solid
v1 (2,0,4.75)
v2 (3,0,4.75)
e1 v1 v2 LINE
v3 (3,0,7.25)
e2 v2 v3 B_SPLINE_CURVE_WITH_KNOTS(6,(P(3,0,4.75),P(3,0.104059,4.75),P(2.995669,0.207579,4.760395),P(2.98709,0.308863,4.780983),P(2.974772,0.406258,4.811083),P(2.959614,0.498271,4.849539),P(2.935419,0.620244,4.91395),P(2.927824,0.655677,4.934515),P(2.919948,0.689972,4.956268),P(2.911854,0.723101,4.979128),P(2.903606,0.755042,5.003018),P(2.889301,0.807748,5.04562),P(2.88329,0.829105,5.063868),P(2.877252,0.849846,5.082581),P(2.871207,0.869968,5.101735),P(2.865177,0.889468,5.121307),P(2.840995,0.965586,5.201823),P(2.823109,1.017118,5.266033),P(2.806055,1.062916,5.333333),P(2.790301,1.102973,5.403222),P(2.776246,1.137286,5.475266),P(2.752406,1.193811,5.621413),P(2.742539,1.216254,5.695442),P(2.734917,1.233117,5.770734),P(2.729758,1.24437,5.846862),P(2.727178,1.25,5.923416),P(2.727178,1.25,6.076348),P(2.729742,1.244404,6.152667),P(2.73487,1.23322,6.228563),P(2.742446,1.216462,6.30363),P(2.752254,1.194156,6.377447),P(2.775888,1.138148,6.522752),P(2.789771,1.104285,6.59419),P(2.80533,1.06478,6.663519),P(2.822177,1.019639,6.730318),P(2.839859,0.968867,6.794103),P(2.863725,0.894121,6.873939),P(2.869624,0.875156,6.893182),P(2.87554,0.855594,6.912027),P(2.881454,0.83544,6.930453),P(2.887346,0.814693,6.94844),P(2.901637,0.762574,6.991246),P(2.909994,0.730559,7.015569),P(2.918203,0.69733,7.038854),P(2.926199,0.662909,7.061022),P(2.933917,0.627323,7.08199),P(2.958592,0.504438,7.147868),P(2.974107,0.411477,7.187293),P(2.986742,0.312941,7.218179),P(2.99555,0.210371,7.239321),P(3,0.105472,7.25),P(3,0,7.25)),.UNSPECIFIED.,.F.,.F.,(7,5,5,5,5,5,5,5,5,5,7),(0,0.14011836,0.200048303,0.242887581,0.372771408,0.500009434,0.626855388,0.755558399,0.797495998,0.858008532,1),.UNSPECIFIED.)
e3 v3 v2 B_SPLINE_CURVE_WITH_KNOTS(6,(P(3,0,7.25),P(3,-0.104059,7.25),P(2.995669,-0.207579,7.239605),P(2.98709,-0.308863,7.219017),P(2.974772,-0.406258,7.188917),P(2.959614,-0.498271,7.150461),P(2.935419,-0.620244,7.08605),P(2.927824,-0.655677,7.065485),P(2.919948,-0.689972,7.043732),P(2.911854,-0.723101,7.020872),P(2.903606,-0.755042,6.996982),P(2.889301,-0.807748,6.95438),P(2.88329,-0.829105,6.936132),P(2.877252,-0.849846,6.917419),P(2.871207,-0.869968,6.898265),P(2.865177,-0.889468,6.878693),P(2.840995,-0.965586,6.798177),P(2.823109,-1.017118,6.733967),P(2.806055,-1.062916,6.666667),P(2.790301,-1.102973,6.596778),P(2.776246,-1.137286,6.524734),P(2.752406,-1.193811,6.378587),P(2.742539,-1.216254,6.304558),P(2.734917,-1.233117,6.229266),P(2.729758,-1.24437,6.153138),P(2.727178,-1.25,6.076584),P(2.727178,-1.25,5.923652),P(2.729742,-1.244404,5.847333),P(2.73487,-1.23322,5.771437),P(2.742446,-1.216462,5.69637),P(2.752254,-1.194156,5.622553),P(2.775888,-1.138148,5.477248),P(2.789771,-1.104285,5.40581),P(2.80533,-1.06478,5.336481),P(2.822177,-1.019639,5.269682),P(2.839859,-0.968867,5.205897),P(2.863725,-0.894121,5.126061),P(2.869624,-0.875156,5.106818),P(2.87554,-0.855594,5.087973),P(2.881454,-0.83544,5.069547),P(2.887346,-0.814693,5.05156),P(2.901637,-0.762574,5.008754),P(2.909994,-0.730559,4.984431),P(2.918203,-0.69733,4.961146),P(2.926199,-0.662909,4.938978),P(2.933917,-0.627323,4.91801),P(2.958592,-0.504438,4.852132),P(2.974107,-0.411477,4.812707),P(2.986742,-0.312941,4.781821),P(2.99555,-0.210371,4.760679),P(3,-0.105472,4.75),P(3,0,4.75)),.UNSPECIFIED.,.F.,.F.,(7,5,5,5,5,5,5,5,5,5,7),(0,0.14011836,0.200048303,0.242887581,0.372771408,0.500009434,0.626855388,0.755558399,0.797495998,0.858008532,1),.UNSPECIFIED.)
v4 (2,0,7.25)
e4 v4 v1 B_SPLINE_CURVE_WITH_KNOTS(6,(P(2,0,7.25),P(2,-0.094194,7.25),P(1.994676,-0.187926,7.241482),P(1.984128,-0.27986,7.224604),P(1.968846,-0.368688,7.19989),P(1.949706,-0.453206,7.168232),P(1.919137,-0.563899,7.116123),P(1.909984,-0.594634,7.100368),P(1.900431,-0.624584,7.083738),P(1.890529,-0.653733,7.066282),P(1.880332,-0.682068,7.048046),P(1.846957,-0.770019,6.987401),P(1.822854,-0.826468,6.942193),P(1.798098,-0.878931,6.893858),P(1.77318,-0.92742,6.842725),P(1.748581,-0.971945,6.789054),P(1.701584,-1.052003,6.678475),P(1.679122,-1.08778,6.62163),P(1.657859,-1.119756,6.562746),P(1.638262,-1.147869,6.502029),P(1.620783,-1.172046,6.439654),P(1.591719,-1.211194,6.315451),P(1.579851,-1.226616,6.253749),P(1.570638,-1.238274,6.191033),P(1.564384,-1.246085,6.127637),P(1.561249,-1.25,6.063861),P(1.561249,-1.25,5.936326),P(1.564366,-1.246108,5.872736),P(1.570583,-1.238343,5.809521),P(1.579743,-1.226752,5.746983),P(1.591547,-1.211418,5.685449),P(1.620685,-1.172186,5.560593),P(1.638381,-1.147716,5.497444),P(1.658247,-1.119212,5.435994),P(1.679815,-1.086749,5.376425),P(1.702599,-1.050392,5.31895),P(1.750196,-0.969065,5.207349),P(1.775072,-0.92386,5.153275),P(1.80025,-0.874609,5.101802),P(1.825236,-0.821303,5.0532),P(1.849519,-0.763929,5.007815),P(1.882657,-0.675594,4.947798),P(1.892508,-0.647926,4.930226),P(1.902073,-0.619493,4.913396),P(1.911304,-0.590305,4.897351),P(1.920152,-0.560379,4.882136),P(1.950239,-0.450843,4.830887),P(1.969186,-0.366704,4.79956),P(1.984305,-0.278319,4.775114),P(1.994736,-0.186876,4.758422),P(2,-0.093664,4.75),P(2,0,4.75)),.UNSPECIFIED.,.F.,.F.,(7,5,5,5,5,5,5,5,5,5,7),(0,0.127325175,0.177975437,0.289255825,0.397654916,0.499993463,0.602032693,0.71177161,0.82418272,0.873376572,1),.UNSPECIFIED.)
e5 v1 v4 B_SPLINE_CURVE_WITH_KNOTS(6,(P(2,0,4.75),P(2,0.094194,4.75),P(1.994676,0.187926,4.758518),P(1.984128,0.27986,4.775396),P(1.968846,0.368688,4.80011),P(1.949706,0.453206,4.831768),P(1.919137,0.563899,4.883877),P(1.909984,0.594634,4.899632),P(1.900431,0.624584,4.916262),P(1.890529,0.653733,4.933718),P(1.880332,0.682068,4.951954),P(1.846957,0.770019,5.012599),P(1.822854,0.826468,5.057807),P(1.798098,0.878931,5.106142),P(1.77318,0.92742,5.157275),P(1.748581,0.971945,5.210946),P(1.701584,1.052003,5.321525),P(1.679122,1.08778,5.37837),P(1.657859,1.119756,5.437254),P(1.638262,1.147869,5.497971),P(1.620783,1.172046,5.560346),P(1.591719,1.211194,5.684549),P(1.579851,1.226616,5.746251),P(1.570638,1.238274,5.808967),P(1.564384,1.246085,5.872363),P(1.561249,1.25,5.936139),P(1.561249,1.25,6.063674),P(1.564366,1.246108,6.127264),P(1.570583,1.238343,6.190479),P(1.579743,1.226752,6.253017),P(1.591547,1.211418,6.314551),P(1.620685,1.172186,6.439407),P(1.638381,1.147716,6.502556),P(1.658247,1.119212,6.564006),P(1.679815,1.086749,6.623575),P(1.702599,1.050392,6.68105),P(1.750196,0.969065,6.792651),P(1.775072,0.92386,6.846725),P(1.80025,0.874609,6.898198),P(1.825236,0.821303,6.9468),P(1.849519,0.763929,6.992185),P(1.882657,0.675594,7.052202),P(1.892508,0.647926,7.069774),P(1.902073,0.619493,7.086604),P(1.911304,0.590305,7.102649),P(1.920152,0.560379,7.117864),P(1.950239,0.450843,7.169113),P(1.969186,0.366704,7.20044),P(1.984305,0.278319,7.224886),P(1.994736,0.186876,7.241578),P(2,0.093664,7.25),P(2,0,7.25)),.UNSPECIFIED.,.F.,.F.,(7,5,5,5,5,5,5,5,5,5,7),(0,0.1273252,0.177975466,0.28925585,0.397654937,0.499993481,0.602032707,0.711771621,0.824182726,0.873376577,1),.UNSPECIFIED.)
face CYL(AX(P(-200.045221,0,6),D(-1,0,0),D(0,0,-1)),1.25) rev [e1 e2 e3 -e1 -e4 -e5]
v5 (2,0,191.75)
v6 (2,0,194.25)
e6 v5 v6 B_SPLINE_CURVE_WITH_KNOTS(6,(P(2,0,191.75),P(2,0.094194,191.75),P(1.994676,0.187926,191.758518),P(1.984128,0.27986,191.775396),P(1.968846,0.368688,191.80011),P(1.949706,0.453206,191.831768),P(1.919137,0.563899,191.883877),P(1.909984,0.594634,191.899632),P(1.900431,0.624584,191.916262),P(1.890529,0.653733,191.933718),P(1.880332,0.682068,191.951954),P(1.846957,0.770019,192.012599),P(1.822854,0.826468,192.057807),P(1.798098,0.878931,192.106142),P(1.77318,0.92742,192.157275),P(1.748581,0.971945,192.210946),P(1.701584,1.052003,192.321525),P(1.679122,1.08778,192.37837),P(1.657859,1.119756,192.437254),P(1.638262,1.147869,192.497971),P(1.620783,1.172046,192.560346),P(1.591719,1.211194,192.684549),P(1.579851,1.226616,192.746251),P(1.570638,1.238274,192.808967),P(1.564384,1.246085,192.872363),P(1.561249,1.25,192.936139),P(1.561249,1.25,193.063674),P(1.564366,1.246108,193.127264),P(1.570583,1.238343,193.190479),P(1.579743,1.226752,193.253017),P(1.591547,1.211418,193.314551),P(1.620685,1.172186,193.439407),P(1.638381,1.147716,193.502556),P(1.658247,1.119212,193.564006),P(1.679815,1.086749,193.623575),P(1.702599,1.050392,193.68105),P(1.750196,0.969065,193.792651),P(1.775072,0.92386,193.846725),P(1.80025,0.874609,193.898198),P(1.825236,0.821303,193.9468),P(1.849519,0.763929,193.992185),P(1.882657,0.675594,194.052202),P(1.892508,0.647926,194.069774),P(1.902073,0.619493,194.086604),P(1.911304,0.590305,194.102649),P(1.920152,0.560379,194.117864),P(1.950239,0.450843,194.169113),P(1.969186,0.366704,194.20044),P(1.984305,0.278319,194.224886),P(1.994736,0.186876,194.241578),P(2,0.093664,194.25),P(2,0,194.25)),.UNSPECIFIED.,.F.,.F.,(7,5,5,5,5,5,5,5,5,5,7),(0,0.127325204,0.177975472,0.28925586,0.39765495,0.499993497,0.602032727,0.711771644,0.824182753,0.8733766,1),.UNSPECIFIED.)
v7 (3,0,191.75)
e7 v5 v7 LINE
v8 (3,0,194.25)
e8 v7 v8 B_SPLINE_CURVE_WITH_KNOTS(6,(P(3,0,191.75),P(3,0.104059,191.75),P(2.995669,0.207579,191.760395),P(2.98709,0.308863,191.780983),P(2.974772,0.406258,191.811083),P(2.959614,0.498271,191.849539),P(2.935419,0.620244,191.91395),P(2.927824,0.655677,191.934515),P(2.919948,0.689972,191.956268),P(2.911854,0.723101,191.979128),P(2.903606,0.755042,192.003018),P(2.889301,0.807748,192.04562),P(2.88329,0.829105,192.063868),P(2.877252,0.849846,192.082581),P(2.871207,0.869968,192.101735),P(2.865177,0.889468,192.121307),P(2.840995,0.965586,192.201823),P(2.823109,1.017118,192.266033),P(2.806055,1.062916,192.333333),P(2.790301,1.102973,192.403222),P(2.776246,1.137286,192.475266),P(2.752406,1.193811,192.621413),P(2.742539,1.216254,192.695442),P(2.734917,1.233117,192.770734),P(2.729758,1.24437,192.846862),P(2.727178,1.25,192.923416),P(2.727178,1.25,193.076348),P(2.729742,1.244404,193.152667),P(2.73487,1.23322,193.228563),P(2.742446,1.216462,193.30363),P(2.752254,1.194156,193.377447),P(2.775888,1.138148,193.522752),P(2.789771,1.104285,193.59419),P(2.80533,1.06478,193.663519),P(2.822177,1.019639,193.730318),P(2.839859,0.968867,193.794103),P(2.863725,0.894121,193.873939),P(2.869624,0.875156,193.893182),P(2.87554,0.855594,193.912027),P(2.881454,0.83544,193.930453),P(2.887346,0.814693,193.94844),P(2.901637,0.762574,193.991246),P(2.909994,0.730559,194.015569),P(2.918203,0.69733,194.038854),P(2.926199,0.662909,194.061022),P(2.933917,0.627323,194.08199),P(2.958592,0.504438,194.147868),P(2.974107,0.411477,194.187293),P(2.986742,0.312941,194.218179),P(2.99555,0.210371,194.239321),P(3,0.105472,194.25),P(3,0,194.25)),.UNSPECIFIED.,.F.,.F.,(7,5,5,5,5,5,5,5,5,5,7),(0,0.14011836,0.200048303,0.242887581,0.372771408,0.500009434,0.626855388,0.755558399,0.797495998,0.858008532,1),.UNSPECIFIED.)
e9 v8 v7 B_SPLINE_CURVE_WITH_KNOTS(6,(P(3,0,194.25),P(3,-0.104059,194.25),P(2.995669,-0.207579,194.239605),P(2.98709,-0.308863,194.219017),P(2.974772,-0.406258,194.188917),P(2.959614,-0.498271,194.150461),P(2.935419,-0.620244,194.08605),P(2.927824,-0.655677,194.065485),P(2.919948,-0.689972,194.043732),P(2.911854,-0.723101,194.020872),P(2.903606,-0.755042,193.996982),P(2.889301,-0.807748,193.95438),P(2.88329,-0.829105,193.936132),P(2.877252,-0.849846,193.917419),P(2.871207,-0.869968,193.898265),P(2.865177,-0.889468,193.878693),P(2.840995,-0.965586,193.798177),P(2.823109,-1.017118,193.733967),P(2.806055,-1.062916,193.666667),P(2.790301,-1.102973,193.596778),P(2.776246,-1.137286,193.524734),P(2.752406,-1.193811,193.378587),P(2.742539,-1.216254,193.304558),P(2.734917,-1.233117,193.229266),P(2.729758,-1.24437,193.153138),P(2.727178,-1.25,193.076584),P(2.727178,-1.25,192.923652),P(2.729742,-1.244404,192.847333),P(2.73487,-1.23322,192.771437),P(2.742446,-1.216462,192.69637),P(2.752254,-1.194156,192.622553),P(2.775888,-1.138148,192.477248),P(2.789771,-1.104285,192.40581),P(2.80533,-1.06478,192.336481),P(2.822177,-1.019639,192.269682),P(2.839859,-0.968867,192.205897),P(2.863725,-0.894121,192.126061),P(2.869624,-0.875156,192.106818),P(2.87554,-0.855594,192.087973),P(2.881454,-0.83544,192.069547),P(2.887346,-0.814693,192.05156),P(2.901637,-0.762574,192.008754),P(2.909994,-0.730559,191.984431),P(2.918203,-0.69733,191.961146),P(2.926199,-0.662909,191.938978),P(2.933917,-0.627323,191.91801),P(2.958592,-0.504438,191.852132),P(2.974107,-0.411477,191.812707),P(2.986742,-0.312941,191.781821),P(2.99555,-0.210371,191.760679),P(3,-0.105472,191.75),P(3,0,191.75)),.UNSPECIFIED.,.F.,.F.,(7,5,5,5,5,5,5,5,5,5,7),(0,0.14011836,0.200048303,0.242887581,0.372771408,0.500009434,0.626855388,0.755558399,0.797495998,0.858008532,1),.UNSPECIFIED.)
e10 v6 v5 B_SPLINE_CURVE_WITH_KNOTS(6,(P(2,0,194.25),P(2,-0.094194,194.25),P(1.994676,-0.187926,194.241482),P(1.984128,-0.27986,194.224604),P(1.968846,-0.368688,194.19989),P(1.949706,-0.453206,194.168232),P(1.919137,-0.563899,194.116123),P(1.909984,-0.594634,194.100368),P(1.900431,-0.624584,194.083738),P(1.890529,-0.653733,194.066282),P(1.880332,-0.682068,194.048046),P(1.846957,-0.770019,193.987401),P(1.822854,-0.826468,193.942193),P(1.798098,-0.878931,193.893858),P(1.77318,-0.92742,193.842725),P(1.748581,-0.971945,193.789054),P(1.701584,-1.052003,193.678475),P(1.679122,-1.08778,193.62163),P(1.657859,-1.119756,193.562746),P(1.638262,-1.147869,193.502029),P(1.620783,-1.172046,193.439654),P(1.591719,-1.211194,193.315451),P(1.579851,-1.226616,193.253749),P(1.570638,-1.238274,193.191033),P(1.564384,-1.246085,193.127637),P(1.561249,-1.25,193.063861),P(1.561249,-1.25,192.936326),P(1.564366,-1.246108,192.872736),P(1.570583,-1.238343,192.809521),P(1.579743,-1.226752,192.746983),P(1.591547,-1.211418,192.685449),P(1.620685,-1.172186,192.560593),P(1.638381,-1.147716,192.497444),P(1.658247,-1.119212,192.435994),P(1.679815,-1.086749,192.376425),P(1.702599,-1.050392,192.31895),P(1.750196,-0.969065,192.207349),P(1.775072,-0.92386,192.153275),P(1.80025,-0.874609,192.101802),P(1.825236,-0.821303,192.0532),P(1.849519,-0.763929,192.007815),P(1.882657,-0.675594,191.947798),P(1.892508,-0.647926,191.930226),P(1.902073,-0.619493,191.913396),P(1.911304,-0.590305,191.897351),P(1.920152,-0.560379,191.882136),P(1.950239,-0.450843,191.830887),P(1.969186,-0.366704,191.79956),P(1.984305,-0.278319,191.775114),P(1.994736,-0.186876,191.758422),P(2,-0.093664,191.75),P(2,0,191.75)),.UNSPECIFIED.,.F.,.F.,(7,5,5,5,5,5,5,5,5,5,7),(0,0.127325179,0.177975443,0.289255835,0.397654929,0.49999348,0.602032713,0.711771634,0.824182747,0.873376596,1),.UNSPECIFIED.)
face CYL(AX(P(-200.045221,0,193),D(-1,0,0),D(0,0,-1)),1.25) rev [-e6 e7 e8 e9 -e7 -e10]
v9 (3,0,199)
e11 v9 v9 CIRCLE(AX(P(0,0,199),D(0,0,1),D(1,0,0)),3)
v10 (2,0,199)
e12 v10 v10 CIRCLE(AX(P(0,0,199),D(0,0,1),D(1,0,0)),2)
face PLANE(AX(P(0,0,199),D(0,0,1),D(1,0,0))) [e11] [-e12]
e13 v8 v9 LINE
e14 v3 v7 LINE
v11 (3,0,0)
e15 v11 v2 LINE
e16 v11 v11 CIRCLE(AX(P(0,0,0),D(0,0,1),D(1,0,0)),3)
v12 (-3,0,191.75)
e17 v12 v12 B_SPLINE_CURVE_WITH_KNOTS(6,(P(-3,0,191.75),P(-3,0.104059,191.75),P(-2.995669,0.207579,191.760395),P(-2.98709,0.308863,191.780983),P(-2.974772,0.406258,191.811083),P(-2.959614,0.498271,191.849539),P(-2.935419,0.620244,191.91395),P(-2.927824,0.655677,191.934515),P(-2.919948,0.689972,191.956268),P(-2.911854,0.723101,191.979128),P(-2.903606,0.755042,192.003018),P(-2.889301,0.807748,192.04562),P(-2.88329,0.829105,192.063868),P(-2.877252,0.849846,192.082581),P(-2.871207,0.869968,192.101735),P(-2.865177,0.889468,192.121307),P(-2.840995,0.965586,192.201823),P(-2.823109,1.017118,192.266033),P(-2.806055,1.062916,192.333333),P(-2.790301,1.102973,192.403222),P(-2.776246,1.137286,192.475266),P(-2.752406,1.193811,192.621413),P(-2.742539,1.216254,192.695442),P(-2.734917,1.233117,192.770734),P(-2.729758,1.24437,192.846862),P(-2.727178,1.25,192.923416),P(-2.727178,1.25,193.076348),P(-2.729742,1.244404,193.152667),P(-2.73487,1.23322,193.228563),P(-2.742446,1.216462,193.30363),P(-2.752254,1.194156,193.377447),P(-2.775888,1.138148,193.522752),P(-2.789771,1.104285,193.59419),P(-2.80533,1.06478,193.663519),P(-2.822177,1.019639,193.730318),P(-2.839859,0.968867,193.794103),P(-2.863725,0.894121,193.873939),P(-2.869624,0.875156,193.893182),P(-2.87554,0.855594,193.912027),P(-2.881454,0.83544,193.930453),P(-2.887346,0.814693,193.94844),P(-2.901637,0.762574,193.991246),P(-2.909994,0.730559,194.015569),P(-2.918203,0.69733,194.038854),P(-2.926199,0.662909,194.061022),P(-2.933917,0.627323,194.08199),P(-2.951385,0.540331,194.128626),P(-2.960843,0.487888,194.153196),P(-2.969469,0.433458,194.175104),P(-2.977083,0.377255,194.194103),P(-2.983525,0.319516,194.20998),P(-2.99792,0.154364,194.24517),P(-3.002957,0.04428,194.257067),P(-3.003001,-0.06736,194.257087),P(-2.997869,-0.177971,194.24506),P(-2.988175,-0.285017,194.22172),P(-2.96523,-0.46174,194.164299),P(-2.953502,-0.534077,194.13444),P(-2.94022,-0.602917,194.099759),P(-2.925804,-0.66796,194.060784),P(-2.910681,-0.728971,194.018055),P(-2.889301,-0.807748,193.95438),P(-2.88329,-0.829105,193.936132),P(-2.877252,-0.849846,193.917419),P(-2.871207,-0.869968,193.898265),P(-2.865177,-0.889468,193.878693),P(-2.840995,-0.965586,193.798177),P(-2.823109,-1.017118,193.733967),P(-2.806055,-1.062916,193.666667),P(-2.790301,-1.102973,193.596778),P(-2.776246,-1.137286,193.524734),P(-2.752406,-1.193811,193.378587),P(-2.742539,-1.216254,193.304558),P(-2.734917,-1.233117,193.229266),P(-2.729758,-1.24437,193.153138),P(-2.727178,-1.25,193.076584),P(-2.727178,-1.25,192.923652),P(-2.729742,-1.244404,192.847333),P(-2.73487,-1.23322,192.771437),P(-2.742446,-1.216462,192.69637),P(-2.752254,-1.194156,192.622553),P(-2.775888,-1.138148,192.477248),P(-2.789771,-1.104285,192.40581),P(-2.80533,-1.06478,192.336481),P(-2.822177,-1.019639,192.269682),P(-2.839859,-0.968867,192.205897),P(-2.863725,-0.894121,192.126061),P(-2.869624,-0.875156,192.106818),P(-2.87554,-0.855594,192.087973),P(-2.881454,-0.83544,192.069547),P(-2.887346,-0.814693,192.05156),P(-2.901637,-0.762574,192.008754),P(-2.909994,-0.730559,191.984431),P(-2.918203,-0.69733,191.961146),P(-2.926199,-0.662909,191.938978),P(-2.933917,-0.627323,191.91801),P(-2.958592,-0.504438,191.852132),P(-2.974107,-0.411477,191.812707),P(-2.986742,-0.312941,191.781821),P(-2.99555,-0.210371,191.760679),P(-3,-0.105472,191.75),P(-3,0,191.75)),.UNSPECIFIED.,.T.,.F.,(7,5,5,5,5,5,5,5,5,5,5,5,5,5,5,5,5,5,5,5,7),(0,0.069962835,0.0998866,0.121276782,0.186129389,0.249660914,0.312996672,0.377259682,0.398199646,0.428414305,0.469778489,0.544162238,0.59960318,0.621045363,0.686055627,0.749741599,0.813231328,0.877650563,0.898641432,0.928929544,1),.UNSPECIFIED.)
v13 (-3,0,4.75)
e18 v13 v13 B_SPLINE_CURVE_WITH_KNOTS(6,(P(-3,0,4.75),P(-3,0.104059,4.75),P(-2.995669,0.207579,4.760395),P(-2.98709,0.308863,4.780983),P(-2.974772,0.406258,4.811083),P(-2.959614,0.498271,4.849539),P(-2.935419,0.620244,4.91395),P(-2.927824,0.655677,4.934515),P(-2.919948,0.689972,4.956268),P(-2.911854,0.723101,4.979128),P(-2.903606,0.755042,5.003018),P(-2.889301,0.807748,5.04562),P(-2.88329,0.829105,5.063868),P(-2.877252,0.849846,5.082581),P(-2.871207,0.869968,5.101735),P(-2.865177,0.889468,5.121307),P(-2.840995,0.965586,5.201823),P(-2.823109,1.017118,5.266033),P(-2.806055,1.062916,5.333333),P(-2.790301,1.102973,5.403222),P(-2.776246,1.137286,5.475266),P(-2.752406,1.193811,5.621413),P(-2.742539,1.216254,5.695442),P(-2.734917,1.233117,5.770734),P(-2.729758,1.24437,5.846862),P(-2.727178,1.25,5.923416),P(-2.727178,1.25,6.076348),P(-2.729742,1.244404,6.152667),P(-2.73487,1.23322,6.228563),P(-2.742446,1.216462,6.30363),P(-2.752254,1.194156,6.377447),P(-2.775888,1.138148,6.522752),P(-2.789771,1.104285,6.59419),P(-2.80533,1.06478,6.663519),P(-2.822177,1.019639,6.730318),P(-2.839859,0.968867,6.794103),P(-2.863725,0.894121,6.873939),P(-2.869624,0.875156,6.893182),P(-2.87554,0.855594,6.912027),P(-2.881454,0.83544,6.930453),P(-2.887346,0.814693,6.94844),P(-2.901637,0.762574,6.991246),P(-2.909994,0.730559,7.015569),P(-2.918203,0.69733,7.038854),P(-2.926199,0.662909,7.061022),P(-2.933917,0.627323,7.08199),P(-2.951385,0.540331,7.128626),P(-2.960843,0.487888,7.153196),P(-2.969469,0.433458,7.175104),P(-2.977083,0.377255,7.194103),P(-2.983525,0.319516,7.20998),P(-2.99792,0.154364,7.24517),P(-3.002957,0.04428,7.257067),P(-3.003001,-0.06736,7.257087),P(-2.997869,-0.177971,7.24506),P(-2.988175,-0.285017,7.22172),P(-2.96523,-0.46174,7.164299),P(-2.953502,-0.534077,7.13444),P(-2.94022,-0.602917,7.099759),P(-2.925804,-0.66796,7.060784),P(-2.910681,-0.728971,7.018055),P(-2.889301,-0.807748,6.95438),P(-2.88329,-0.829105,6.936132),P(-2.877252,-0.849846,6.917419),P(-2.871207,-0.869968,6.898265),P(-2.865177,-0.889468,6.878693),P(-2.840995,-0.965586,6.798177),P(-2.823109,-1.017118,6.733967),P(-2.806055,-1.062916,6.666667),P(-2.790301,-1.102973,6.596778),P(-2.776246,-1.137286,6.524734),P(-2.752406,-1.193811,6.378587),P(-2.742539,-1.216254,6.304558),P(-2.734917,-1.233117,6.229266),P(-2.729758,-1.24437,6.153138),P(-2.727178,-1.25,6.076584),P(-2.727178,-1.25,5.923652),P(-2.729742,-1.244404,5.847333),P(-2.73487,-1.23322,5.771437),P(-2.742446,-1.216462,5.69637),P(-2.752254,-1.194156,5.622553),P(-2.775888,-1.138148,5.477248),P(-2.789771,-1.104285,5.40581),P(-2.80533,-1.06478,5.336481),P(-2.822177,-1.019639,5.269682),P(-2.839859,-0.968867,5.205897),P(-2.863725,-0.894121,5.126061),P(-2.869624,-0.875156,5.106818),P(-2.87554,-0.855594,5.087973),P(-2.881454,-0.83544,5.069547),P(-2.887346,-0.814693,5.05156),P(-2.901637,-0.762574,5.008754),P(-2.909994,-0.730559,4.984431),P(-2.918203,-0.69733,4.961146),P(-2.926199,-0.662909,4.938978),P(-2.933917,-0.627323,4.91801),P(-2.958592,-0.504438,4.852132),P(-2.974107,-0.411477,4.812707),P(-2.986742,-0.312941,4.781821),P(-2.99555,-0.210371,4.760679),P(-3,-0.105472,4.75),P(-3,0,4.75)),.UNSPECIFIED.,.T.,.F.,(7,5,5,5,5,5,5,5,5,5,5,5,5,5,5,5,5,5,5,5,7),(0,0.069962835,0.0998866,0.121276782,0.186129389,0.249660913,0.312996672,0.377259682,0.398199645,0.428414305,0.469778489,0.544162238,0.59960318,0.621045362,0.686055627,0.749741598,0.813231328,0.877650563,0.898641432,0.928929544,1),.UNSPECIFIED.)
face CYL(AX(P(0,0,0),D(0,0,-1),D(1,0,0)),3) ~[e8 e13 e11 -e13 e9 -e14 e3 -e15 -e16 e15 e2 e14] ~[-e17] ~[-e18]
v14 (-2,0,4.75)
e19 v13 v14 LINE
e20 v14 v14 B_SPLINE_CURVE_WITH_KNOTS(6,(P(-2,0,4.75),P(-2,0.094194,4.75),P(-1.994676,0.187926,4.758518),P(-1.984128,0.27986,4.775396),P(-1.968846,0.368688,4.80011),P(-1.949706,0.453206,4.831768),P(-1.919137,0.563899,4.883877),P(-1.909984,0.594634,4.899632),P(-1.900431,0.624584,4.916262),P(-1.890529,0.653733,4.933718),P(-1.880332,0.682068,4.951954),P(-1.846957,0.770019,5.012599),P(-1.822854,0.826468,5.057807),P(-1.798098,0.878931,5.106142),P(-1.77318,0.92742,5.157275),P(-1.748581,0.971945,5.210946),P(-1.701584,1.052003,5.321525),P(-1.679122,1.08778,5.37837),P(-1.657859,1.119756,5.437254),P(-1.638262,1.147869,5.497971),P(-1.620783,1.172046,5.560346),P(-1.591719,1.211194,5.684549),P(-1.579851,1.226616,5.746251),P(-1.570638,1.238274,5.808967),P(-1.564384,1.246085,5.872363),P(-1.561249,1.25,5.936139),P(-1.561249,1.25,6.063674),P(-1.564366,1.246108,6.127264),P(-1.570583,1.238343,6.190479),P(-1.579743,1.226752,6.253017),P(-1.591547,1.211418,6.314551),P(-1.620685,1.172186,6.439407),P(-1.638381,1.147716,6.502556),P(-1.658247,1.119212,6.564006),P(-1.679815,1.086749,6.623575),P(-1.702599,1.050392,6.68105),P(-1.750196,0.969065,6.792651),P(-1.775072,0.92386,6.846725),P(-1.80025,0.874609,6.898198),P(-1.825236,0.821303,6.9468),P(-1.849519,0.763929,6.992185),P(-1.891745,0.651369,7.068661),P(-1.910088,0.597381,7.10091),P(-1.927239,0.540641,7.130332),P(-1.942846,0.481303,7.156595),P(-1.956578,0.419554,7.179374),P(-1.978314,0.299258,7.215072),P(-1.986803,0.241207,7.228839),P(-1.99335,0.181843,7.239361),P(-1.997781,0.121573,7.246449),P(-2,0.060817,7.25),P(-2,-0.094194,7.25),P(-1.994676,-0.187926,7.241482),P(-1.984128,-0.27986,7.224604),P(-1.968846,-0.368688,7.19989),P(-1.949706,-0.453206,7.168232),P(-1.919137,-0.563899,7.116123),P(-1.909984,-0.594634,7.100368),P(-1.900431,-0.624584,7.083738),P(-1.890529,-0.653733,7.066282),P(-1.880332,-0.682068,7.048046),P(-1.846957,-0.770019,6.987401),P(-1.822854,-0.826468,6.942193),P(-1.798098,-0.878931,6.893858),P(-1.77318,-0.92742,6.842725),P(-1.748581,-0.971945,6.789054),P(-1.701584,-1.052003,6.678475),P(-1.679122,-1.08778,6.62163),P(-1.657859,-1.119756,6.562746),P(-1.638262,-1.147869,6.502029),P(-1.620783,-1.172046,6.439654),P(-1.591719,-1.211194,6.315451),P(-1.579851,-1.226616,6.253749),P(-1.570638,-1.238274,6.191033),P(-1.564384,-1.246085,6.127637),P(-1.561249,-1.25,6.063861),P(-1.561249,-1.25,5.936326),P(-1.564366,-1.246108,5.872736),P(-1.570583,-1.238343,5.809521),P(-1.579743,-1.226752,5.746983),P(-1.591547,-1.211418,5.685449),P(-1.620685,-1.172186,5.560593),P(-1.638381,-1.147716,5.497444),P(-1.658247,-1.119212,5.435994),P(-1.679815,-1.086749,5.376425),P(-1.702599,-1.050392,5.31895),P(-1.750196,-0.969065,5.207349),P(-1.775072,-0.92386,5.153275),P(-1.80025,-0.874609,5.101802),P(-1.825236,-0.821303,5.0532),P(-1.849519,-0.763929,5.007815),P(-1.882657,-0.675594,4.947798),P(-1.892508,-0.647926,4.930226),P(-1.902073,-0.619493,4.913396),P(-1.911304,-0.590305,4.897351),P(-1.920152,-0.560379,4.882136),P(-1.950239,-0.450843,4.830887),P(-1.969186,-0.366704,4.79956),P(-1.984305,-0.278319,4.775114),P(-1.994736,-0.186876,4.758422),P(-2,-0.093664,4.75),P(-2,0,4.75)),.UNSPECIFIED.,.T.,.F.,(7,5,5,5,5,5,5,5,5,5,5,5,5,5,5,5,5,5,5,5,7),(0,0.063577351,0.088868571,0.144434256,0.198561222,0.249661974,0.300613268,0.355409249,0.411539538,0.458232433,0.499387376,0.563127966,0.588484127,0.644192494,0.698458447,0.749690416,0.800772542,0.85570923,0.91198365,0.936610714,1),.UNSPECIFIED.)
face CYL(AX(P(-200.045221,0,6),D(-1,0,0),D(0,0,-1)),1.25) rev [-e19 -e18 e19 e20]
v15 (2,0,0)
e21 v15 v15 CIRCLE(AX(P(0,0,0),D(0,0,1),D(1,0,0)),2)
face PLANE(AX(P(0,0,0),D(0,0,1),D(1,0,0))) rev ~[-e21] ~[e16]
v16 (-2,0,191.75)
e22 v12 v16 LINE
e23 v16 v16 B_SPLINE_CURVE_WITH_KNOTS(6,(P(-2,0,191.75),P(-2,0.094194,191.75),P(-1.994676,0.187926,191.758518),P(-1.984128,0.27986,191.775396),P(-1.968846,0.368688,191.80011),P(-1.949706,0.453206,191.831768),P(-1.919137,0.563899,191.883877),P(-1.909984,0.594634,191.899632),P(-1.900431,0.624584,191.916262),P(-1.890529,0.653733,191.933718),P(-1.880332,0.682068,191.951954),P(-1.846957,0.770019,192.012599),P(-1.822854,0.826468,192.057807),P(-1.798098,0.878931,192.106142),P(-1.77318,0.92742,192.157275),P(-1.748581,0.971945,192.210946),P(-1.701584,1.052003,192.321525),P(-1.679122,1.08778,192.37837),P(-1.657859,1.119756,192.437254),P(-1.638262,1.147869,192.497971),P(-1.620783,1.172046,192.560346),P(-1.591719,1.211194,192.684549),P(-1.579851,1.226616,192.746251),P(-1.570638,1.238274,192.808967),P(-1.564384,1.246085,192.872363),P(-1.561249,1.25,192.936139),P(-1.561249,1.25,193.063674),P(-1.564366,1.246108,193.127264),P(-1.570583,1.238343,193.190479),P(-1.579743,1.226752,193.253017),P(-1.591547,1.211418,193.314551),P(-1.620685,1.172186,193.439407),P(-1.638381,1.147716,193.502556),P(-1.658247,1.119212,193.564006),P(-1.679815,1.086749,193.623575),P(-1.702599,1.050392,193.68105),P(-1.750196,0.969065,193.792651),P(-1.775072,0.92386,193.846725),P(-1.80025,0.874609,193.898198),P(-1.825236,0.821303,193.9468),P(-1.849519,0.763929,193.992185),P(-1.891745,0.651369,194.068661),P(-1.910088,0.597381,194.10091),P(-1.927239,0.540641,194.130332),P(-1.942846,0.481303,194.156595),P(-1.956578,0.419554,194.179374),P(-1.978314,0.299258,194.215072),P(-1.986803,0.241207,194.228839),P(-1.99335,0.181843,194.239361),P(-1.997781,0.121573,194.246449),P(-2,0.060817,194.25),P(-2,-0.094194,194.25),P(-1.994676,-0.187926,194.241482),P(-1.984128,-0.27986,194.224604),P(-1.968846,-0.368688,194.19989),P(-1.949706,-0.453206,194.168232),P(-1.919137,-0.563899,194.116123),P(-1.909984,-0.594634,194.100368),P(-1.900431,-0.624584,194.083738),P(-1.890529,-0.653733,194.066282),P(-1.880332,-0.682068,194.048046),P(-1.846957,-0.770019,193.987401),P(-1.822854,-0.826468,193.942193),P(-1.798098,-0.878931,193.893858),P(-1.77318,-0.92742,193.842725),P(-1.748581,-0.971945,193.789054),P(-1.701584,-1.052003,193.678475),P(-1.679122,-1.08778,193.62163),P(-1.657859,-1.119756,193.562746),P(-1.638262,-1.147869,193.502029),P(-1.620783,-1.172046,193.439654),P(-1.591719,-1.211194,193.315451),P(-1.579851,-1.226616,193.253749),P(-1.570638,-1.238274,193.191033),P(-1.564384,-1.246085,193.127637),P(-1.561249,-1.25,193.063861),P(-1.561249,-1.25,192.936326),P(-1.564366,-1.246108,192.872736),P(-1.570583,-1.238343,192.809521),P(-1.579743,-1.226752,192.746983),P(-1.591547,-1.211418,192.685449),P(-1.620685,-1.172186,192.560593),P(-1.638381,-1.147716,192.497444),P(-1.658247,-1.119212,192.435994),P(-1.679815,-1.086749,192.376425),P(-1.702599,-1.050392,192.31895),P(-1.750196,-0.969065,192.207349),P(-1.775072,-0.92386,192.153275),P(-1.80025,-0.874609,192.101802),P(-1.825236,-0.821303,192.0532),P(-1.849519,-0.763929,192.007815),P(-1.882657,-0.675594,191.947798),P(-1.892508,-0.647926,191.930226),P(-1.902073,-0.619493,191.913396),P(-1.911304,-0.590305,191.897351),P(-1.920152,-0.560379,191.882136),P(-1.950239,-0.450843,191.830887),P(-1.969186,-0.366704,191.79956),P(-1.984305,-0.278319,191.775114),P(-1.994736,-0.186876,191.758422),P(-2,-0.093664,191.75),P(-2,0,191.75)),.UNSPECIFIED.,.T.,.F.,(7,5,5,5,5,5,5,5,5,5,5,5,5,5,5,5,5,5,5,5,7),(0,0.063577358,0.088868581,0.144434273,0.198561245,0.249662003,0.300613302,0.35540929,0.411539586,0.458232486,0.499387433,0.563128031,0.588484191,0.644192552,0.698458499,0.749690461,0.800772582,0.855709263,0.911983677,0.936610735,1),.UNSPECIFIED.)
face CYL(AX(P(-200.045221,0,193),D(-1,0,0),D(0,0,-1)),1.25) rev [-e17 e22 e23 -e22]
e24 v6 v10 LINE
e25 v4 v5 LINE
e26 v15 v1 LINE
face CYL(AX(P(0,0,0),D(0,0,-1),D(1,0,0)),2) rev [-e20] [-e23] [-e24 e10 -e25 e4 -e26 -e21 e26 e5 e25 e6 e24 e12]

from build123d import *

# Parameters (mm, degrees)
ESQUISSE1_R                  = 3
ESQUISSE1_R_2                = 2
BOSS_EXTRU_1_DEPTH           = 199
ENL_V_MAT_EXTRU_1_DEPTH      = 200.045220993
ENL_V_MAT_EXTRU_1_DEPTH_BACK = 200.045220993
ESQUISSE2_R                  = 1.25


with BuildPart() as part:
    # Esquisse1 → Boss.-Extru.1 (new body)
    with BuildSketch(Plane.XY):
        Circle(ESQUISSE1_R)
        Circle(ESQUISSE1_R_2, mode=Mode.SUBTRACT)
    extrude(amount=BOSS_EXTRU_1_DEPTH)

    # Esquisse2 → Enlèv. mat.-Extru.1 (cut, two sides: drawn at the far end of the back side and taken through both)
    with BuildSketch(Plane(origin=(0, 0, 0), x_dir=(0, 0, -1), z_dir=(1, 0, 0)).offset(-ENL_V_MAT_EXTRU_1_DEPTH_BACK)):
        with Locations((-6, 0)):
            Circle(ESQUISSE2_R)
        with Locations((-193, 0)):
            Circle(ESQUISSE2_R)
    extrude(amount=ENL_V_MAT_EXTRU_1_DEPTH + ENL_V_MAT_EXTRU_1_DEPTH_BACK, mode=Mode.SUBTRACT)


solid = part.part
